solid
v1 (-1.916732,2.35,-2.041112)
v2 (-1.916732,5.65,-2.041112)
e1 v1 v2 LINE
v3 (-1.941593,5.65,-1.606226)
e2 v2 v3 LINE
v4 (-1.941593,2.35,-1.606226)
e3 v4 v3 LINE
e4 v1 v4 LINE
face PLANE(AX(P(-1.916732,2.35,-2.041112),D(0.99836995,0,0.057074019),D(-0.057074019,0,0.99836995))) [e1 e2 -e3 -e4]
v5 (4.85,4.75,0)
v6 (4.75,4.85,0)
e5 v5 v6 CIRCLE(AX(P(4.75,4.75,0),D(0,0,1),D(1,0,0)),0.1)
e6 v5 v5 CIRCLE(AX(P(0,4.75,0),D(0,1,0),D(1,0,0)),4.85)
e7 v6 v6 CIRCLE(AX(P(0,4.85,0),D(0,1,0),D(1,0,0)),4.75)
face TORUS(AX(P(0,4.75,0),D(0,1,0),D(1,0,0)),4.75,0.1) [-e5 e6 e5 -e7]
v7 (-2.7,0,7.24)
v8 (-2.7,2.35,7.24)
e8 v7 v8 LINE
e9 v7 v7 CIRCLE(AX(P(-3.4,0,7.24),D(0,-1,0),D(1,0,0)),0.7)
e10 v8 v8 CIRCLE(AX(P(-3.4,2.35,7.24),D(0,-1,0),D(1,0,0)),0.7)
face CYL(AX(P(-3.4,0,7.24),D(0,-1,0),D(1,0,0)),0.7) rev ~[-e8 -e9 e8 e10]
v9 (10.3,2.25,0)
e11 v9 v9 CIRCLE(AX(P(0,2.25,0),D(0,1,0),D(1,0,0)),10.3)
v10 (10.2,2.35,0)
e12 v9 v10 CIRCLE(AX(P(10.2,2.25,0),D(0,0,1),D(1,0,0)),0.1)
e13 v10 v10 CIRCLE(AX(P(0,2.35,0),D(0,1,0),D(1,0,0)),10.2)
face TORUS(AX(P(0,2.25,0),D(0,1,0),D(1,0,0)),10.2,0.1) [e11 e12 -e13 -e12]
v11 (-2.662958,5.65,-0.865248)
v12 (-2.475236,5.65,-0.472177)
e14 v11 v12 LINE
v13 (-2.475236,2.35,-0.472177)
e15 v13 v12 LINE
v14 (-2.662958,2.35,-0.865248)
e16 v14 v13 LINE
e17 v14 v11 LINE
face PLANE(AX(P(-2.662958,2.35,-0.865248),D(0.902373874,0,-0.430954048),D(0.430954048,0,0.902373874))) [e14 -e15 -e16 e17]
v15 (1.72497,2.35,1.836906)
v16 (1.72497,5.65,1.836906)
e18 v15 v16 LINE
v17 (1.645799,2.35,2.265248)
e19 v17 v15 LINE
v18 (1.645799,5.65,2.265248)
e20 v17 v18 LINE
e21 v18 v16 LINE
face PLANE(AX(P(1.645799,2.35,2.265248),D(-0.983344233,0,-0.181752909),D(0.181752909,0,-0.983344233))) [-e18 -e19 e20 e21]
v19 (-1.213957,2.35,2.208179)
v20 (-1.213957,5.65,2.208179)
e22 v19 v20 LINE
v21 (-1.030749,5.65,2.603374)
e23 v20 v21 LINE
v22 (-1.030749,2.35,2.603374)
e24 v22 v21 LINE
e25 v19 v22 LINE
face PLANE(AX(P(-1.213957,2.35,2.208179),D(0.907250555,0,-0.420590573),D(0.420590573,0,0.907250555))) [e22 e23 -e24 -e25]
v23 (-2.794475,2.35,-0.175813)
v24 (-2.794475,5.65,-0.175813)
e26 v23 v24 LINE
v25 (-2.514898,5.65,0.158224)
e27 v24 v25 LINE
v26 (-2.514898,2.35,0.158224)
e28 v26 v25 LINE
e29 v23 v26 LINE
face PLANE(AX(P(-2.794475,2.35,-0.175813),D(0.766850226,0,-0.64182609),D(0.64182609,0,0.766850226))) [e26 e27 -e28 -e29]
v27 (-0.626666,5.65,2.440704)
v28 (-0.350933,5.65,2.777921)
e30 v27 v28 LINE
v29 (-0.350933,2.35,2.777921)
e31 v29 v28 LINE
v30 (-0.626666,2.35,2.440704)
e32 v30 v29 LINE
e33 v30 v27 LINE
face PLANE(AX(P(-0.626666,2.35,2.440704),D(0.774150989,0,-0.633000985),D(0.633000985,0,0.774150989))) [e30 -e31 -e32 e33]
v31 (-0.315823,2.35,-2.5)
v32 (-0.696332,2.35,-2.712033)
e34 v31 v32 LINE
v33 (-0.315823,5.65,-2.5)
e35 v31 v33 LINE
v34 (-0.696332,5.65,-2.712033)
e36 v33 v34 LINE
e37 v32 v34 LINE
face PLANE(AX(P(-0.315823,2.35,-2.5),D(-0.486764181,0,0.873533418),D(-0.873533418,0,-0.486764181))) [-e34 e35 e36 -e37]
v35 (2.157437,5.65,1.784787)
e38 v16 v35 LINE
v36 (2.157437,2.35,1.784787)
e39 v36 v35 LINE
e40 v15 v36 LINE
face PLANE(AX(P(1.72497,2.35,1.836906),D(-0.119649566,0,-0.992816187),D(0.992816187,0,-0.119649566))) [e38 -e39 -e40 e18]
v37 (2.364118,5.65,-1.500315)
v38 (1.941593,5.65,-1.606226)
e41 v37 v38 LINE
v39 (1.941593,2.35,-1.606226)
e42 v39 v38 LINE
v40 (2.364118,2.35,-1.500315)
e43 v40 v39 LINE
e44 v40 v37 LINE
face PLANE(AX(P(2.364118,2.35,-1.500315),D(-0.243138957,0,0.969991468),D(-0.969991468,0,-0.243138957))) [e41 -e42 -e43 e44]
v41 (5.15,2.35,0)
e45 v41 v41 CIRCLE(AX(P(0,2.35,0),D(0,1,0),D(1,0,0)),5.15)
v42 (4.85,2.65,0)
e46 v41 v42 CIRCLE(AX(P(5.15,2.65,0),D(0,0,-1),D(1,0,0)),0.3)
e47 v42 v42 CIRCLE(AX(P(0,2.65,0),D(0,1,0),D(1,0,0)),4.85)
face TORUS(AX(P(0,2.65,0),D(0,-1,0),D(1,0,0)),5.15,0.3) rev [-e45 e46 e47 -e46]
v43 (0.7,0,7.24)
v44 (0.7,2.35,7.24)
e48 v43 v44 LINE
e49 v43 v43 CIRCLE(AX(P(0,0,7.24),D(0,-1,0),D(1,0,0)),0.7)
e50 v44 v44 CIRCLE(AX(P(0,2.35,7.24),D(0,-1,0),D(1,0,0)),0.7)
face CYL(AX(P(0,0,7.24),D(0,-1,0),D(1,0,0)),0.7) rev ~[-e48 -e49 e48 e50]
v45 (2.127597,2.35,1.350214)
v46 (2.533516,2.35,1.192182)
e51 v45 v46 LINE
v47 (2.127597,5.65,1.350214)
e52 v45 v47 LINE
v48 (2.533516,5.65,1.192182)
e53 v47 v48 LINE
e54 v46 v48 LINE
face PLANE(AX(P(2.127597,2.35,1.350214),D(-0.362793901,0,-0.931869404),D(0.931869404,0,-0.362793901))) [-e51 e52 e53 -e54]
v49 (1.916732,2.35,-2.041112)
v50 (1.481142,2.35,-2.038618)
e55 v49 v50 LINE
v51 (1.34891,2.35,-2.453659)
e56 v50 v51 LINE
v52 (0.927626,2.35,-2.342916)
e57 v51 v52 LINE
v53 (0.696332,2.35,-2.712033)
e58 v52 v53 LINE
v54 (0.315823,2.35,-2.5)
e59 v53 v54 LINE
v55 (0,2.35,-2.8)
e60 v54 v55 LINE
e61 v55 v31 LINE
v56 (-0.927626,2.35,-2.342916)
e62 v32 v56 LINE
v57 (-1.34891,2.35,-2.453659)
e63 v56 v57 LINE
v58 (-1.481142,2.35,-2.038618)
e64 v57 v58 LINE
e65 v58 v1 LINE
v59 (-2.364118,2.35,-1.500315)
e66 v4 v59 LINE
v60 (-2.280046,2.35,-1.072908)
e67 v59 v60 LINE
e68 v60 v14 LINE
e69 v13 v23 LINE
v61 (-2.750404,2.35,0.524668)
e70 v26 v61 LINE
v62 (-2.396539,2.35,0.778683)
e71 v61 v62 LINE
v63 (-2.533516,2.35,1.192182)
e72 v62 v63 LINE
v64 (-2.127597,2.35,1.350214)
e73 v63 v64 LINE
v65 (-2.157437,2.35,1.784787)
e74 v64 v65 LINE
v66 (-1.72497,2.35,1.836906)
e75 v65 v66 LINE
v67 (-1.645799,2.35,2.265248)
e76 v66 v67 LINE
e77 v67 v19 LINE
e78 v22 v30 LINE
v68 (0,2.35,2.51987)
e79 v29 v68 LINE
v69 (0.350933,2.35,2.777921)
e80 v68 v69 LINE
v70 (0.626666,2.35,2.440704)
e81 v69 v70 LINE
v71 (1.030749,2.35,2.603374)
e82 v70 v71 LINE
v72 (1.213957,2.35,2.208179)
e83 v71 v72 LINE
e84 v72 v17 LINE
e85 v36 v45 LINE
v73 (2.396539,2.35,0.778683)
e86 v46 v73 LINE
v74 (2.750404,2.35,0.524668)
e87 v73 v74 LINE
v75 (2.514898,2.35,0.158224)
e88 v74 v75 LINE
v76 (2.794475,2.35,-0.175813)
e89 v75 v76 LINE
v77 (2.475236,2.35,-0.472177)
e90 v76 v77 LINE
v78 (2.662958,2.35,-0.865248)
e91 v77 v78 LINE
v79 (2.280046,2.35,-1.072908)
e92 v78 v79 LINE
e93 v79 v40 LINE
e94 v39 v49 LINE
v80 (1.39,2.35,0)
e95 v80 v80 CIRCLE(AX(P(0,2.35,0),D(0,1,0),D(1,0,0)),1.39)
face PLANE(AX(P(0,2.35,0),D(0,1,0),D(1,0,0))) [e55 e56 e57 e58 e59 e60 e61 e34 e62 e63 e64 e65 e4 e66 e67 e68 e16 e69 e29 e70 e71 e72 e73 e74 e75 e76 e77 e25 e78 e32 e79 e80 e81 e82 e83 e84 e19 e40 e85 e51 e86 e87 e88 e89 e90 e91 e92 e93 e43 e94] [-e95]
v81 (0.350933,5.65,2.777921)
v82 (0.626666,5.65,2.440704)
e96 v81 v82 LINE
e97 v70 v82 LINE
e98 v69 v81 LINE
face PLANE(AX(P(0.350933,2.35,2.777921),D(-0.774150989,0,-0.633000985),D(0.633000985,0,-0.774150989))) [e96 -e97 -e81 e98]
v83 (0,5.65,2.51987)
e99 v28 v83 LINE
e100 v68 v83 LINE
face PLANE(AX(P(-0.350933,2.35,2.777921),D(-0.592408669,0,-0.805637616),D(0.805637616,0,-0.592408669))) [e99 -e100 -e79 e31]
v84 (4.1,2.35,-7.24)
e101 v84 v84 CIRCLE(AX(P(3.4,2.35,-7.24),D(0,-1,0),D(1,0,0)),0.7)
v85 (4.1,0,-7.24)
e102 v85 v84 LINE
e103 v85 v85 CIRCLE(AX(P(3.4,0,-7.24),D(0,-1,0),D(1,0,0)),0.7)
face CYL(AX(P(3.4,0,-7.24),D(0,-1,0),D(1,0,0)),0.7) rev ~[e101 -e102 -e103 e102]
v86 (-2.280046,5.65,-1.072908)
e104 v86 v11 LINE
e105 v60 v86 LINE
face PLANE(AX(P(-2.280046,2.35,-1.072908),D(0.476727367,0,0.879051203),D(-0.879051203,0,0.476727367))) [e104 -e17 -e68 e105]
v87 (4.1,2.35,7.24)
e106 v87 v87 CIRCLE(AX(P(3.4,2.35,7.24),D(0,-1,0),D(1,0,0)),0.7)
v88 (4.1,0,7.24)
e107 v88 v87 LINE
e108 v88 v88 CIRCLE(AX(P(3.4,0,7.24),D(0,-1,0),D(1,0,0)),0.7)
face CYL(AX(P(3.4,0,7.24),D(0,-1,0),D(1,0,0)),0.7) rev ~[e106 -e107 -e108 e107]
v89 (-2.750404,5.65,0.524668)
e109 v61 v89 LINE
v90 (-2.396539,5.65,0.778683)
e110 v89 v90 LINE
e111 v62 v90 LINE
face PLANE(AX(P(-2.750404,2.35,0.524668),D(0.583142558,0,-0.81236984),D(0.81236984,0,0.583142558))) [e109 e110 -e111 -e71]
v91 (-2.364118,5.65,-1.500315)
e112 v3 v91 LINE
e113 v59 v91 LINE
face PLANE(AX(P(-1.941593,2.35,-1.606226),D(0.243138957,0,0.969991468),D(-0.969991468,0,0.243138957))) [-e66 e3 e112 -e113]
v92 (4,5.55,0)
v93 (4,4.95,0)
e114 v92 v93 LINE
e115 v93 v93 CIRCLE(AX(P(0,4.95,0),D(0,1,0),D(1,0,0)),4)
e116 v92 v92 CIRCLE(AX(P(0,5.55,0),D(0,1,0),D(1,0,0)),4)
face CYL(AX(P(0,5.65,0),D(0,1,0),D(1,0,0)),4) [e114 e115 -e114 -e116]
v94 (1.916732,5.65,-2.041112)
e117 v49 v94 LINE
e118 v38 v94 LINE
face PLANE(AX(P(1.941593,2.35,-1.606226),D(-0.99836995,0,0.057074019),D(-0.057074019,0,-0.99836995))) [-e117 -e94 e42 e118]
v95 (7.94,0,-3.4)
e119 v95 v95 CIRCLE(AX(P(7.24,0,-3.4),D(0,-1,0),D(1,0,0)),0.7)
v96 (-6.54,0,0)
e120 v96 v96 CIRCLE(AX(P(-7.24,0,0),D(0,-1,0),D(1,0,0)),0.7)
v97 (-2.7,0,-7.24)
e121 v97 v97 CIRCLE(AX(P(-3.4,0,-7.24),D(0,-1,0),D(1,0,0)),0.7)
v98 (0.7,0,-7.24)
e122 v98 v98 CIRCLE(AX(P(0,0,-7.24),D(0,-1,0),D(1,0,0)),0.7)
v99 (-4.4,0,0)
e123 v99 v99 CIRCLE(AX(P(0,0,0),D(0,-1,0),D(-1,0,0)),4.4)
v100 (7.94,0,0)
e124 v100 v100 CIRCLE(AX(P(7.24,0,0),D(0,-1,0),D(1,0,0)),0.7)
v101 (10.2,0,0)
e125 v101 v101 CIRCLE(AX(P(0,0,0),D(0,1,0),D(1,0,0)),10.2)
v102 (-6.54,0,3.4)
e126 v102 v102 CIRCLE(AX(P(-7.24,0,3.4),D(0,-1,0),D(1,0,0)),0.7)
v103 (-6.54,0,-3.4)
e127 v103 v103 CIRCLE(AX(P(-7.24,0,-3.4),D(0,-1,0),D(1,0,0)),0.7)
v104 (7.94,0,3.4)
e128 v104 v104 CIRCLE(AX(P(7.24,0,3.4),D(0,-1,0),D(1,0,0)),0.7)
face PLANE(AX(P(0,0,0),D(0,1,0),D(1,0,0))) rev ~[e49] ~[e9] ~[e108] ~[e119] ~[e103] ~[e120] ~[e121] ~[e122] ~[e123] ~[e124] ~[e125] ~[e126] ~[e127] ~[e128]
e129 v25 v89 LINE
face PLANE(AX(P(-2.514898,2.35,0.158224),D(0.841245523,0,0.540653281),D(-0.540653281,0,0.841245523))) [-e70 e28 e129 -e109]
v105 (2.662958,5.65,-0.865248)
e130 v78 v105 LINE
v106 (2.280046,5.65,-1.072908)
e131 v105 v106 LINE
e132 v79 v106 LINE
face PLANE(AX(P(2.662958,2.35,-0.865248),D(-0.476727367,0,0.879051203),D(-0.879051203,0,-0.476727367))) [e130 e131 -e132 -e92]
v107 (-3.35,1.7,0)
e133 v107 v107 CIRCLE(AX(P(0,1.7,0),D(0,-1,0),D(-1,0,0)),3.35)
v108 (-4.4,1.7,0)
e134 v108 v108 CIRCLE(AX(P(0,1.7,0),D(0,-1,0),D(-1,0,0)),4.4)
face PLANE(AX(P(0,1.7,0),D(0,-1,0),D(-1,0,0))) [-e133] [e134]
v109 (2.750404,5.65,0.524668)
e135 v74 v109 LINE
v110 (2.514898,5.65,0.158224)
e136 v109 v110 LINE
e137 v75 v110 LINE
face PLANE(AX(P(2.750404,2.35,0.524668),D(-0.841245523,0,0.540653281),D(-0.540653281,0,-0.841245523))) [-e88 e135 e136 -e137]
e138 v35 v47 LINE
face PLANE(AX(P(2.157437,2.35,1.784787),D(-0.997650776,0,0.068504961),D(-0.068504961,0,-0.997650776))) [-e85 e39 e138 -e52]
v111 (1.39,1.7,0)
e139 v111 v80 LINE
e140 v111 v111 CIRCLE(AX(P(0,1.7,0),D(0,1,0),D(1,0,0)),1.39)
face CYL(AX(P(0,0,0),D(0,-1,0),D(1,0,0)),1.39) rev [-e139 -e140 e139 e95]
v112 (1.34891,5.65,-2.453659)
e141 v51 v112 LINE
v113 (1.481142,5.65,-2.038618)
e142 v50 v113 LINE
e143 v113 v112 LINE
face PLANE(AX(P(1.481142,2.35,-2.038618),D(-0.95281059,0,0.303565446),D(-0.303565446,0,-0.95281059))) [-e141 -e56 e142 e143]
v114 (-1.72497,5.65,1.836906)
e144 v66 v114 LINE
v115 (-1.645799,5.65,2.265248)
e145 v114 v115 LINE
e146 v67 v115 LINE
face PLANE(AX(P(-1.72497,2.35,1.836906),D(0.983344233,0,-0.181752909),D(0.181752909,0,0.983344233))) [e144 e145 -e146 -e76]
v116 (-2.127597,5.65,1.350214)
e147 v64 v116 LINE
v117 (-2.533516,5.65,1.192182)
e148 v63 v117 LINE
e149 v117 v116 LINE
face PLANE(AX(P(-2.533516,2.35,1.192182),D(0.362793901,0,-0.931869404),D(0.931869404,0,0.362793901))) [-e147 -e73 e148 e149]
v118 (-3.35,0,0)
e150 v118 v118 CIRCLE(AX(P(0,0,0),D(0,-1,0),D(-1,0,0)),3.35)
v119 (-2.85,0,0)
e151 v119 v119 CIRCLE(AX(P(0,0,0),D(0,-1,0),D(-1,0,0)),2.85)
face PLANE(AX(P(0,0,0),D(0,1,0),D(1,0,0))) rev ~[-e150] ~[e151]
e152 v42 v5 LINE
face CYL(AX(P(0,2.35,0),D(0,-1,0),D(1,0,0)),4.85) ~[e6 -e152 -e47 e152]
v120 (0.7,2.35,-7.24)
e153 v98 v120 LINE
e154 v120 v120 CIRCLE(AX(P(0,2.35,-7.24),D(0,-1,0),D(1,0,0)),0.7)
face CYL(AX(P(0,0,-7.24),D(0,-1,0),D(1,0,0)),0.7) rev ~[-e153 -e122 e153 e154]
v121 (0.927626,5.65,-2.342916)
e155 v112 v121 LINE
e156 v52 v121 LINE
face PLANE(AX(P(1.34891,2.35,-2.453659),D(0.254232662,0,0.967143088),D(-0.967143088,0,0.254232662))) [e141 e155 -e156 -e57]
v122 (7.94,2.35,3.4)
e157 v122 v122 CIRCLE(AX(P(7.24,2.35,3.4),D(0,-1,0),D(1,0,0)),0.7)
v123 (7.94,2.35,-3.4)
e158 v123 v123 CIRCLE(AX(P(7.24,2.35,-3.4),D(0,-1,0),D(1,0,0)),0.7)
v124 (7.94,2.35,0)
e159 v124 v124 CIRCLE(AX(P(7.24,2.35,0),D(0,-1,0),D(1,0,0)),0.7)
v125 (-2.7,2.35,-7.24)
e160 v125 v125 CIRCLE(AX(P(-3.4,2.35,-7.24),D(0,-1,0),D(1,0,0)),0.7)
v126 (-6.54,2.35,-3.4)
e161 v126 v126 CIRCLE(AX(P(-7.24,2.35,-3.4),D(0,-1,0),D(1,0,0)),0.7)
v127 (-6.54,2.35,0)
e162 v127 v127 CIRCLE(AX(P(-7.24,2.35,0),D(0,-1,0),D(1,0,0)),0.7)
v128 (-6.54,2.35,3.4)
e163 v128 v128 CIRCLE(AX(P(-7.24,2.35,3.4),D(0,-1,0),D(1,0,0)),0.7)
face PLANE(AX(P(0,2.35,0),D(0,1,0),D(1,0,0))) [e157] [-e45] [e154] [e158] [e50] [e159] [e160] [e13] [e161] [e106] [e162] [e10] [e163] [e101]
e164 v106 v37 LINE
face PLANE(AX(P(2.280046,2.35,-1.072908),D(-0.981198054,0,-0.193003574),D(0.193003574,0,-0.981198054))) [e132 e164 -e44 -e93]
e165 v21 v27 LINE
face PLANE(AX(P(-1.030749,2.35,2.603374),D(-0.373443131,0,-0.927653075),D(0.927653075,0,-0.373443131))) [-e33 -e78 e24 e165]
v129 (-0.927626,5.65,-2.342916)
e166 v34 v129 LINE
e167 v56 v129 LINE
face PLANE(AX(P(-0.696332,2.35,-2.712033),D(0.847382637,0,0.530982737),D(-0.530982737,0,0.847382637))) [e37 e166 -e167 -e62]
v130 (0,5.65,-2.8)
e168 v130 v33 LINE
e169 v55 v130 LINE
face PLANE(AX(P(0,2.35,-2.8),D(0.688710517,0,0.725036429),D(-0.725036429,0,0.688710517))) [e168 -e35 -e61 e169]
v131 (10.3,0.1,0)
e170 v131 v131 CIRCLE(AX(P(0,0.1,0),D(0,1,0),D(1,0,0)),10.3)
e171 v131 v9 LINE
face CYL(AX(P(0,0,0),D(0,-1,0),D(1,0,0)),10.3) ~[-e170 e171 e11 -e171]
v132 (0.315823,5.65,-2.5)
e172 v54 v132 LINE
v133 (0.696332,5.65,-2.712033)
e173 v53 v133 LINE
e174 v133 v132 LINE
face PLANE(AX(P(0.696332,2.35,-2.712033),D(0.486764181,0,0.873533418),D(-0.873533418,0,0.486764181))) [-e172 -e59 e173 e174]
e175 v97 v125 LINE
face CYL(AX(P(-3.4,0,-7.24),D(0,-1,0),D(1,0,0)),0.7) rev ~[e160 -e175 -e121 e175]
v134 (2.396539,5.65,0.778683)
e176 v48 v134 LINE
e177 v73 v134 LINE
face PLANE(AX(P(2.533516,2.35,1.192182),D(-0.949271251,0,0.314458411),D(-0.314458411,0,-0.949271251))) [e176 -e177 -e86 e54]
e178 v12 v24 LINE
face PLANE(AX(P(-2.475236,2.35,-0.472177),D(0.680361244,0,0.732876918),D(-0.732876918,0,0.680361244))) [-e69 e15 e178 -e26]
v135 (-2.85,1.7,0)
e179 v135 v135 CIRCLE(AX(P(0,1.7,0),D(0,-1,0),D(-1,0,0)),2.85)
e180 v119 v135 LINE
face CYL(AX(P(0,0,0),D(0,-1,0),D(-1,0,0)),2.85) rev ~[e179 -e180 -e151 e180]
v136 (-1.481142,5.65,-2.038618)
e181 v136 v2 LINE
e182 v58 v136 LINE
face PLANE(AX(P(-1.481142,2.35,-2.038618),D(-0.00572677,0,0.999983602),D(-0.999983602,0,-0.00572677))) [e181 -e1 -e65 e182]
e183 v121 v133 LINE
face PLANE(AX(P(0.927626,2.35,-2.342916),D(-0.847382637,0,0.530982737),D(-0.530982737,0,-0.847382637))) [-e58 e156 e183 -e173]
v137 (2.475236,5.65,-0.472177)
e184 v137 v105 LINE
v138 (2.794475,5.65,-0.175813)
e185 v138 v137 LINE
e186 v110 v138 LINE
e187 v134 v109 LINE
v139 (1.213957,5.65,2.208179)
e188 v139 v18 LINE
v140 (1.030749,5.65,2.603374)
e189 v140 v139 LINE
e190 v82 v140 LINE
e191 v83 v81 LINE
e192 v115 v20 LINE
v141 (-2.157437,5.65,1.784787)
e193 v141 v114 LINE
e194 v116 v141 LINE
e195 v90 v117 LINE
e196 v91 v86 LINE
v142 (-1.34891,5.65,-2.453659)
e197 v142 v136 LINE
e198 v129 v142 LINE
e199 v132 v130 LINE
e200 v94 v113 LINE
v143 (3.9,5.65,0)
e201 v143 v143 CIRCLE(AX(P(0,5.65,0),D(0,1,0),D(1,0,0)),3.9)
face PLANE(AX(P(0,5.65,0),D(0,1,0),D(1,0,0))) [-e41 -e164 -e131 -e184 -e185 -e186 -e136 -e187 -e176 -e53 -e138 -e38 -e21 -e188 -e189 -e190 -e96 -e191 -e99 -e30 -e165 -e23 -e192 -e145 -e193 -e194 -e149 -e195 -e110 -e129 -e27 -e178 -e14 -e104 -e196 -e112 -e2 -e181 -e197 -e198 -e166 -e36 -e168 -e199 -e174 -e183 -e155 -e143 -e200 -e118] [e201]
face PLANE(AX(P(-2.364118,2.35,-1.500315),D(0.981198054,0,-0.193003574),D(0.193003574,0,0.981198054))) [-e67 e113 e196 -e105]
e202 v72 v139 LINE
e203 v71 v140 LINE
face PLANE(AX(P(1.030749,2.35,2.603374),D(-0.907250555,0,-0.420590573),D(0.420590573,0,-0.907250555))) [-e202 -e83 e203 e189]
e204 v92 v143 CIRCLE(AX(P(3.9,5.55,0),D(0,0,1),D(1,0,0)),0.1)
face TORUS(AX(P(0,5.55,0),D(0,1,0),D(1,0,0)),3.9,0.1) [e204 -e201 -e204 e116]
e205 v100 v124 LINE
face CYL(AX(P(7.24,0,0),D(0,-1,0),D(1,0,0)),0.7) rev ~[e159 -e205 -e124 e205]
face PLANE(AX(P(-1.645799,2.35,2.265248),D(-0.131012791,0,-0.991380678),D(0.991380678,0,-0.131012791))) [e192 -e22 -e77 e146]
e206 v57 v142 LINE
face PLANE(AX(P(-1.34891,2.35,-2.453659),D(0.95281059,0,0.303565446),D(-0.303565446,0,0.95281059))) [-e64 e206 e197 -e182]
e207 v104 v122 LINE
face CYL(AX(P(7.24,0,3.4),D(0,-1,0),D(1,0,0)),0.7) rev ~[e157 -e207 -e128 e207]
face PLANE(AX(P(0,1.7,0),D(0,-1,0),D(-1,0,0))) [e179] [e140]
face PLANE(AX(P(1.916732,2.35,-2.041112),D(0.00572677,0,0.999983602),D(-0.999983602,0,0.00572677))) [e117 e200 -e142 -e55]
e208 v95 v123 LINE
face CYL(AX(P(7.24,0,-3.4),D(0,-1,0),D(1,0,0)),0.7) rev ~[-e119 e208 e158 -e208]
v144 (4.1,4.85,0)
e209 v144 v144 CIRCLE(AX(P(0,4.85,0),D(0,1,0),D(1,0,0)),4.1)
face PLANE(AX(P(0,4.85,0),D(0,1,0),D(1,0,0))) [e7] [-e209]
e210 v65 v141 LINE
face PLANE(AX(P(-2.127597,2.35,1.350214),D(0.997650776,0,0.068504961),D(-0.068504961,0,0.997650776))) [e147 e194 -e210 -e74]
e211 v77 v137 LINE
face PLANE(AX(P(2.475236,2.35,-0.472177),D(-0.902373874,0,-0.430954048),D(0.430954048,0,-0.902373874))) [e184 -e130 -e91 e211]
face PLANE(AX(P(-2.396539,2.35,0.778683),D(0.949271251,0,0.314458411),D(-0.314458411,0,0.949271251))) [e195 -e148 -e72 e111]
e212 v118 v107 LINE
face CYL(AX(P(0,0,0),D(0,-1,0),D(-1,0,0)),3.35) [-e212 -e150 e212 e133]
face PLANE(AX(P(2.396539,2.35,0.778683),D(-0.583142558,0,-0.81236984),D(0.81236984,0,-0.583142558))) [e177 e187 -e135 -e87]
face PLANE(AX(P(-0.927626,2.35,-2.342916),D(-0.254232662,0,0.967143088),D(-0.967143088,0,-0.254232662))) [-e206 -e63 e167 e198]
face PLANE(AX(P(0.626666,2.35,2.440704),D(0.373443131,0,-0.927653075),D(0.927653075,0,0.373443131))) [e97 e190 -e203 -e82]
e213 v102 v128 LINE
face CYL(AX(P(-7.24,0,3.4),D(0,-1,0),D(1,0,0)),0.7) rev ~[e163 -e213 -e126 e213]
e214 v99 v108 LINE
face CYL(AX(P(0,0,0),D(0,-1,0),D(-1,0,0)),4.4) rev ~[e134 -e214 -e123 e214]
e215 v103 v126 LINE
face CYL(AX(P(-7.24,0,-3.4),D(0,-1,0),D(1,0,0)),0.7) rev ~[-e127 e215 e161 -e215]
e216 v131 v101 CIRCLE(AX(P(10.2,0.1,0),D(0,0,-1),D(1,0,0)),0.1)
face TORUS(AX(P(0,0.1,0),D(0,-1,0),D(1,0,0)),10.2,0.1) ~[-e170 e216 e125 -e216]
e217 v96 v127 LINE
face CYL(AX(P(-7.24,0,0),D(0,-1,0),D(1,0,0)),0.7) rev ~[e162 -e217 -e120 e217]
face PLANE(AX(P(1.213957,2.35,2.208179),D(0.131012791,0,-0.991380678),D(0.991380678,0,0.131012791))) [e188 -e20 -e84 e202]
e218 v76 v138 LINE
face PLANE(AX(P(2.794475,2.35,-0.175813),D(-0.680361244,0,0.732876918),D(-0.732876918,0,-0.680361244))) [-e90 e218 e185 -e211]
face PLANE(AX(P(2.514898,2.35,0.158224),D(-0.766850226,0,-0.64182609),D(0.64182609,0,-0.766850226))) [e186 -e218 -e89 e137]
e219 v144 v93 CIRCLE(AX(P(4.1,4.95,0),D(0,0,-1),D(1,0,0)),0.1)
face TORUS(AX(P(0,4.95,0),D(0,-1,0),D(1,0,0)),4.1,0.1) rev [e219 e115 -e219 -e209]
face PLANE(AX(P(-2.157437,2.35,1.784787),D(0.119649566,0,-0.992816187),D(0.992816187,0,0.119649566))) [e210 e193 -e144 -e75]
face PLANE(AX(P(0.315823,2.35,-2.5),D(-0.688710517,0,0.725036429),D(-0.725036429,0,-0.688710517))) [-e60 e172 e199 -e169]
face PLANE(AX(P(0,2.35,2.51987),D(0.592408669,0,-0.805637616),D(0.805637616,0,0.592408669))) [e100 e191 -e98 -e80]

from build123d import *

# Parameters (mm, degrees)
SKETCH1_R           = 10.3
SKETCH1_R_2         = 1.39
BOSS_EXTRUDE1_DEPTH = 2.35
SKETCH2_R           = 4.85
BOSS_EXTRUDE2_DEPTH = 3.3
SKETCH3_R           = 4.85
SKETCH3_R_2         = 4
CUT_EXTRUDE1_DEPTH  = 0.8
SKETCH4_R           = 4.4
SKETCH4_R_2         = 3.35
SKETCH4_R_3         = 2.85
SKETCH4_R_4         = 1.39
CUT_EXTRUDE2_DEPTH  = 1.7
SKETCH5_R           = 0.7
CUT_EXTRUDE3_DEPTH  = 6.65
FILLET1_R           = 0.1
FILLET2_R           = 0.3


with BuildPart() as part:
    # Sketch1 → Boss-Extrude1 (new body)
    with BuildSketch(Plane(origin=(0, 0, 0), x_dir=(1, 0, 0), z_dir=(0, 1, 0))):
        Circle(SKETCH1_R)
        Circle(SKETCH1_R_2, mode=Mode.SUBTRACT)
    extrude(amount=BOSS_EXTRUDE1_DEPTH)

    # Sketch2 → Boss-Extrude2 (add)
    with BuildSketch(Plane(origin=(0, 2.35, 0), x_dir=(1, 0, 0), z_dir=(0, 1, 0))):
        Circle(SKETCH2_R)
        Polygon((0, 2.8), (-0.315823446, 2.5), (-0.696331684, 2.712032851), (-0.92762599, 2.342915806), (-1.348910287, 2.453658704), (-1.481142381, 2.038617595), (-1.916731897, 2.041112157), (-1.941593149, 1.606225543), (-2.364118191, 1.500315026), (-2.280046479, 1.072908432), (-2.662958246, 0.865247584), (-2.475236103, 0.47217654), (-2.79447484, 0.175813455), (-2.514897539, -0.158223942), (-2.750404302, -0.524667681), (-2.396538714, -0.778682631), (-2.533515747, -1.192182016), (-2.127596548, -1.350213827), (-2.15743708, -1.784787171), (-1.724969666, -1.836906122), (-1.645798706, -2.265247584), (-1.213956596, -2.20817885), (-1.030748748, -2.60337416), (-0.626666168, -2.44070358), (-0.350933054, -2.777921164), (0, -2.519869927), (0.350933054, -2.777921164), (0.626666168, -2.44070358), (1.030748748, -2.60337416), (1.213956596, -2.20817885), (1.645798706, -2.265247584), (1.724969666, -1.836906122), (2.15743708, -1.784787171), (2.127596548, -1.350213827), (2.533515747, -1.192182016), (2.396538714, -0.778682631), (2.750404302, -0.524667681), (2.514897539, -0.158223942), (2.79447484, 0.175813455), (2.475236103, 0.47217654), (2.662958246, 0.865247584), (2.280046479, 1.072908432), (2.364118191, 1.500315026), (1.941593149, 1.606225543), (1.916731897, 2.041112157), (1.481142381, 2.038617595), (1.348910287, 2.453658704), (0.92762599, 2.342915806), (0.696331684, 2.712032851), (0.315823446, 2.5), align=None, mode=Mode.SUBTRACT)
    extrude(amount=BOSS_EXTRUDE2_DEPTH)

    # Sketch3 → Cut-Extrude1 (cut)
    with BuildSketch(Plane(origin=(0, 5.65, 0), x_dir=(1, 0, 0), z_dir=(0, 1, 0))):
        Circle(SKETCH3_R)
        Circle(SKETCH3_R_2, mode=Mode.SUBTRACT)
    extrude(amount=-CUT_EXTRUDE1_DEPTH, mode=Mode.SUBTRACT)

    # Sketch4 → Cut-Extrude2 (cut)
    with BuildSketch(Plane(origin=(0, 0, 0), x_dir=(-1, 0, 0), z_dir=(0, -1, 0))):
        Circle(SKETCH4_R)
        Circle(SKETCH4_R_2, mode=Mode.SUBTRACT)
        Circle(SKETCH4_R_3)
        Circle(SKETCH4_R_4, mode=Mode.SUBTRACT)
    extrude(amount=-CUT_EXTRUDE2_DEPTH, mode=Mode.SUBTRACT)

    # Sketch5 → Cut-Extrude3 (cut, through all)
    with BuildSketch(Plane.XZ):
        with Locations((0, 7.24)):
            Circle(SKETCH5_R)
        with Locations((3.4, 7.24)):
            Circle(SKETCH5_R)
        with Locations((-3.4, 7.24)):
            Circle(SKETCH5_R)
        with Locations((7.24, 0)):
            Circle(SKETCH5_R)
        with Locations((7.24, -3.4)):
            Circle(SKETCH5_R)
        with Locations((7.24, 3.4)):
            Circle(SKETCH5_R)
        with Locations((0, -7.24)):
            Circle(SKETCH5_R)
        with Locations((-3.4, -7.24)):
            Circle(SKETCH5_R)
        with Locations((3.4, -7.24)):
            Circle(SKETCH5_R)
        with Locations((-7.24, 0)):
            Circle(SKETCH5_R)
        with Locations((-7.24, 3.4)):
            Circle(SKETCH5_R)
        with Locations((-7.24, -3.4)):
            Circle(SKETCH5_R)
    extrude(amount=-CUT_EXTRUDE3_DEPTH, mode=Mode.SUBTRACT)

    # Fillet1
    fillet1_edges = [part.edges().sort_by_distance(p)[0] for p in [
        (-4.85, 4.85, 0),
        (-4, 4.85, 0),
        (-4, 5.65, 0),
        (-10.3, 0, 0),
        (-10.3, 2.35, 0),
    ]]
    fillet(fillet1_edges, radius=FILLET1_R)

    # Fillet2
    fillet2_edges = [part.edges().sort_by_distance(p)[0] for p in [
        (-4.85, 2.35, 0),
    ]]
    fillet(fillet2_edges, radius=FILLET2_R)


solid = part.part
